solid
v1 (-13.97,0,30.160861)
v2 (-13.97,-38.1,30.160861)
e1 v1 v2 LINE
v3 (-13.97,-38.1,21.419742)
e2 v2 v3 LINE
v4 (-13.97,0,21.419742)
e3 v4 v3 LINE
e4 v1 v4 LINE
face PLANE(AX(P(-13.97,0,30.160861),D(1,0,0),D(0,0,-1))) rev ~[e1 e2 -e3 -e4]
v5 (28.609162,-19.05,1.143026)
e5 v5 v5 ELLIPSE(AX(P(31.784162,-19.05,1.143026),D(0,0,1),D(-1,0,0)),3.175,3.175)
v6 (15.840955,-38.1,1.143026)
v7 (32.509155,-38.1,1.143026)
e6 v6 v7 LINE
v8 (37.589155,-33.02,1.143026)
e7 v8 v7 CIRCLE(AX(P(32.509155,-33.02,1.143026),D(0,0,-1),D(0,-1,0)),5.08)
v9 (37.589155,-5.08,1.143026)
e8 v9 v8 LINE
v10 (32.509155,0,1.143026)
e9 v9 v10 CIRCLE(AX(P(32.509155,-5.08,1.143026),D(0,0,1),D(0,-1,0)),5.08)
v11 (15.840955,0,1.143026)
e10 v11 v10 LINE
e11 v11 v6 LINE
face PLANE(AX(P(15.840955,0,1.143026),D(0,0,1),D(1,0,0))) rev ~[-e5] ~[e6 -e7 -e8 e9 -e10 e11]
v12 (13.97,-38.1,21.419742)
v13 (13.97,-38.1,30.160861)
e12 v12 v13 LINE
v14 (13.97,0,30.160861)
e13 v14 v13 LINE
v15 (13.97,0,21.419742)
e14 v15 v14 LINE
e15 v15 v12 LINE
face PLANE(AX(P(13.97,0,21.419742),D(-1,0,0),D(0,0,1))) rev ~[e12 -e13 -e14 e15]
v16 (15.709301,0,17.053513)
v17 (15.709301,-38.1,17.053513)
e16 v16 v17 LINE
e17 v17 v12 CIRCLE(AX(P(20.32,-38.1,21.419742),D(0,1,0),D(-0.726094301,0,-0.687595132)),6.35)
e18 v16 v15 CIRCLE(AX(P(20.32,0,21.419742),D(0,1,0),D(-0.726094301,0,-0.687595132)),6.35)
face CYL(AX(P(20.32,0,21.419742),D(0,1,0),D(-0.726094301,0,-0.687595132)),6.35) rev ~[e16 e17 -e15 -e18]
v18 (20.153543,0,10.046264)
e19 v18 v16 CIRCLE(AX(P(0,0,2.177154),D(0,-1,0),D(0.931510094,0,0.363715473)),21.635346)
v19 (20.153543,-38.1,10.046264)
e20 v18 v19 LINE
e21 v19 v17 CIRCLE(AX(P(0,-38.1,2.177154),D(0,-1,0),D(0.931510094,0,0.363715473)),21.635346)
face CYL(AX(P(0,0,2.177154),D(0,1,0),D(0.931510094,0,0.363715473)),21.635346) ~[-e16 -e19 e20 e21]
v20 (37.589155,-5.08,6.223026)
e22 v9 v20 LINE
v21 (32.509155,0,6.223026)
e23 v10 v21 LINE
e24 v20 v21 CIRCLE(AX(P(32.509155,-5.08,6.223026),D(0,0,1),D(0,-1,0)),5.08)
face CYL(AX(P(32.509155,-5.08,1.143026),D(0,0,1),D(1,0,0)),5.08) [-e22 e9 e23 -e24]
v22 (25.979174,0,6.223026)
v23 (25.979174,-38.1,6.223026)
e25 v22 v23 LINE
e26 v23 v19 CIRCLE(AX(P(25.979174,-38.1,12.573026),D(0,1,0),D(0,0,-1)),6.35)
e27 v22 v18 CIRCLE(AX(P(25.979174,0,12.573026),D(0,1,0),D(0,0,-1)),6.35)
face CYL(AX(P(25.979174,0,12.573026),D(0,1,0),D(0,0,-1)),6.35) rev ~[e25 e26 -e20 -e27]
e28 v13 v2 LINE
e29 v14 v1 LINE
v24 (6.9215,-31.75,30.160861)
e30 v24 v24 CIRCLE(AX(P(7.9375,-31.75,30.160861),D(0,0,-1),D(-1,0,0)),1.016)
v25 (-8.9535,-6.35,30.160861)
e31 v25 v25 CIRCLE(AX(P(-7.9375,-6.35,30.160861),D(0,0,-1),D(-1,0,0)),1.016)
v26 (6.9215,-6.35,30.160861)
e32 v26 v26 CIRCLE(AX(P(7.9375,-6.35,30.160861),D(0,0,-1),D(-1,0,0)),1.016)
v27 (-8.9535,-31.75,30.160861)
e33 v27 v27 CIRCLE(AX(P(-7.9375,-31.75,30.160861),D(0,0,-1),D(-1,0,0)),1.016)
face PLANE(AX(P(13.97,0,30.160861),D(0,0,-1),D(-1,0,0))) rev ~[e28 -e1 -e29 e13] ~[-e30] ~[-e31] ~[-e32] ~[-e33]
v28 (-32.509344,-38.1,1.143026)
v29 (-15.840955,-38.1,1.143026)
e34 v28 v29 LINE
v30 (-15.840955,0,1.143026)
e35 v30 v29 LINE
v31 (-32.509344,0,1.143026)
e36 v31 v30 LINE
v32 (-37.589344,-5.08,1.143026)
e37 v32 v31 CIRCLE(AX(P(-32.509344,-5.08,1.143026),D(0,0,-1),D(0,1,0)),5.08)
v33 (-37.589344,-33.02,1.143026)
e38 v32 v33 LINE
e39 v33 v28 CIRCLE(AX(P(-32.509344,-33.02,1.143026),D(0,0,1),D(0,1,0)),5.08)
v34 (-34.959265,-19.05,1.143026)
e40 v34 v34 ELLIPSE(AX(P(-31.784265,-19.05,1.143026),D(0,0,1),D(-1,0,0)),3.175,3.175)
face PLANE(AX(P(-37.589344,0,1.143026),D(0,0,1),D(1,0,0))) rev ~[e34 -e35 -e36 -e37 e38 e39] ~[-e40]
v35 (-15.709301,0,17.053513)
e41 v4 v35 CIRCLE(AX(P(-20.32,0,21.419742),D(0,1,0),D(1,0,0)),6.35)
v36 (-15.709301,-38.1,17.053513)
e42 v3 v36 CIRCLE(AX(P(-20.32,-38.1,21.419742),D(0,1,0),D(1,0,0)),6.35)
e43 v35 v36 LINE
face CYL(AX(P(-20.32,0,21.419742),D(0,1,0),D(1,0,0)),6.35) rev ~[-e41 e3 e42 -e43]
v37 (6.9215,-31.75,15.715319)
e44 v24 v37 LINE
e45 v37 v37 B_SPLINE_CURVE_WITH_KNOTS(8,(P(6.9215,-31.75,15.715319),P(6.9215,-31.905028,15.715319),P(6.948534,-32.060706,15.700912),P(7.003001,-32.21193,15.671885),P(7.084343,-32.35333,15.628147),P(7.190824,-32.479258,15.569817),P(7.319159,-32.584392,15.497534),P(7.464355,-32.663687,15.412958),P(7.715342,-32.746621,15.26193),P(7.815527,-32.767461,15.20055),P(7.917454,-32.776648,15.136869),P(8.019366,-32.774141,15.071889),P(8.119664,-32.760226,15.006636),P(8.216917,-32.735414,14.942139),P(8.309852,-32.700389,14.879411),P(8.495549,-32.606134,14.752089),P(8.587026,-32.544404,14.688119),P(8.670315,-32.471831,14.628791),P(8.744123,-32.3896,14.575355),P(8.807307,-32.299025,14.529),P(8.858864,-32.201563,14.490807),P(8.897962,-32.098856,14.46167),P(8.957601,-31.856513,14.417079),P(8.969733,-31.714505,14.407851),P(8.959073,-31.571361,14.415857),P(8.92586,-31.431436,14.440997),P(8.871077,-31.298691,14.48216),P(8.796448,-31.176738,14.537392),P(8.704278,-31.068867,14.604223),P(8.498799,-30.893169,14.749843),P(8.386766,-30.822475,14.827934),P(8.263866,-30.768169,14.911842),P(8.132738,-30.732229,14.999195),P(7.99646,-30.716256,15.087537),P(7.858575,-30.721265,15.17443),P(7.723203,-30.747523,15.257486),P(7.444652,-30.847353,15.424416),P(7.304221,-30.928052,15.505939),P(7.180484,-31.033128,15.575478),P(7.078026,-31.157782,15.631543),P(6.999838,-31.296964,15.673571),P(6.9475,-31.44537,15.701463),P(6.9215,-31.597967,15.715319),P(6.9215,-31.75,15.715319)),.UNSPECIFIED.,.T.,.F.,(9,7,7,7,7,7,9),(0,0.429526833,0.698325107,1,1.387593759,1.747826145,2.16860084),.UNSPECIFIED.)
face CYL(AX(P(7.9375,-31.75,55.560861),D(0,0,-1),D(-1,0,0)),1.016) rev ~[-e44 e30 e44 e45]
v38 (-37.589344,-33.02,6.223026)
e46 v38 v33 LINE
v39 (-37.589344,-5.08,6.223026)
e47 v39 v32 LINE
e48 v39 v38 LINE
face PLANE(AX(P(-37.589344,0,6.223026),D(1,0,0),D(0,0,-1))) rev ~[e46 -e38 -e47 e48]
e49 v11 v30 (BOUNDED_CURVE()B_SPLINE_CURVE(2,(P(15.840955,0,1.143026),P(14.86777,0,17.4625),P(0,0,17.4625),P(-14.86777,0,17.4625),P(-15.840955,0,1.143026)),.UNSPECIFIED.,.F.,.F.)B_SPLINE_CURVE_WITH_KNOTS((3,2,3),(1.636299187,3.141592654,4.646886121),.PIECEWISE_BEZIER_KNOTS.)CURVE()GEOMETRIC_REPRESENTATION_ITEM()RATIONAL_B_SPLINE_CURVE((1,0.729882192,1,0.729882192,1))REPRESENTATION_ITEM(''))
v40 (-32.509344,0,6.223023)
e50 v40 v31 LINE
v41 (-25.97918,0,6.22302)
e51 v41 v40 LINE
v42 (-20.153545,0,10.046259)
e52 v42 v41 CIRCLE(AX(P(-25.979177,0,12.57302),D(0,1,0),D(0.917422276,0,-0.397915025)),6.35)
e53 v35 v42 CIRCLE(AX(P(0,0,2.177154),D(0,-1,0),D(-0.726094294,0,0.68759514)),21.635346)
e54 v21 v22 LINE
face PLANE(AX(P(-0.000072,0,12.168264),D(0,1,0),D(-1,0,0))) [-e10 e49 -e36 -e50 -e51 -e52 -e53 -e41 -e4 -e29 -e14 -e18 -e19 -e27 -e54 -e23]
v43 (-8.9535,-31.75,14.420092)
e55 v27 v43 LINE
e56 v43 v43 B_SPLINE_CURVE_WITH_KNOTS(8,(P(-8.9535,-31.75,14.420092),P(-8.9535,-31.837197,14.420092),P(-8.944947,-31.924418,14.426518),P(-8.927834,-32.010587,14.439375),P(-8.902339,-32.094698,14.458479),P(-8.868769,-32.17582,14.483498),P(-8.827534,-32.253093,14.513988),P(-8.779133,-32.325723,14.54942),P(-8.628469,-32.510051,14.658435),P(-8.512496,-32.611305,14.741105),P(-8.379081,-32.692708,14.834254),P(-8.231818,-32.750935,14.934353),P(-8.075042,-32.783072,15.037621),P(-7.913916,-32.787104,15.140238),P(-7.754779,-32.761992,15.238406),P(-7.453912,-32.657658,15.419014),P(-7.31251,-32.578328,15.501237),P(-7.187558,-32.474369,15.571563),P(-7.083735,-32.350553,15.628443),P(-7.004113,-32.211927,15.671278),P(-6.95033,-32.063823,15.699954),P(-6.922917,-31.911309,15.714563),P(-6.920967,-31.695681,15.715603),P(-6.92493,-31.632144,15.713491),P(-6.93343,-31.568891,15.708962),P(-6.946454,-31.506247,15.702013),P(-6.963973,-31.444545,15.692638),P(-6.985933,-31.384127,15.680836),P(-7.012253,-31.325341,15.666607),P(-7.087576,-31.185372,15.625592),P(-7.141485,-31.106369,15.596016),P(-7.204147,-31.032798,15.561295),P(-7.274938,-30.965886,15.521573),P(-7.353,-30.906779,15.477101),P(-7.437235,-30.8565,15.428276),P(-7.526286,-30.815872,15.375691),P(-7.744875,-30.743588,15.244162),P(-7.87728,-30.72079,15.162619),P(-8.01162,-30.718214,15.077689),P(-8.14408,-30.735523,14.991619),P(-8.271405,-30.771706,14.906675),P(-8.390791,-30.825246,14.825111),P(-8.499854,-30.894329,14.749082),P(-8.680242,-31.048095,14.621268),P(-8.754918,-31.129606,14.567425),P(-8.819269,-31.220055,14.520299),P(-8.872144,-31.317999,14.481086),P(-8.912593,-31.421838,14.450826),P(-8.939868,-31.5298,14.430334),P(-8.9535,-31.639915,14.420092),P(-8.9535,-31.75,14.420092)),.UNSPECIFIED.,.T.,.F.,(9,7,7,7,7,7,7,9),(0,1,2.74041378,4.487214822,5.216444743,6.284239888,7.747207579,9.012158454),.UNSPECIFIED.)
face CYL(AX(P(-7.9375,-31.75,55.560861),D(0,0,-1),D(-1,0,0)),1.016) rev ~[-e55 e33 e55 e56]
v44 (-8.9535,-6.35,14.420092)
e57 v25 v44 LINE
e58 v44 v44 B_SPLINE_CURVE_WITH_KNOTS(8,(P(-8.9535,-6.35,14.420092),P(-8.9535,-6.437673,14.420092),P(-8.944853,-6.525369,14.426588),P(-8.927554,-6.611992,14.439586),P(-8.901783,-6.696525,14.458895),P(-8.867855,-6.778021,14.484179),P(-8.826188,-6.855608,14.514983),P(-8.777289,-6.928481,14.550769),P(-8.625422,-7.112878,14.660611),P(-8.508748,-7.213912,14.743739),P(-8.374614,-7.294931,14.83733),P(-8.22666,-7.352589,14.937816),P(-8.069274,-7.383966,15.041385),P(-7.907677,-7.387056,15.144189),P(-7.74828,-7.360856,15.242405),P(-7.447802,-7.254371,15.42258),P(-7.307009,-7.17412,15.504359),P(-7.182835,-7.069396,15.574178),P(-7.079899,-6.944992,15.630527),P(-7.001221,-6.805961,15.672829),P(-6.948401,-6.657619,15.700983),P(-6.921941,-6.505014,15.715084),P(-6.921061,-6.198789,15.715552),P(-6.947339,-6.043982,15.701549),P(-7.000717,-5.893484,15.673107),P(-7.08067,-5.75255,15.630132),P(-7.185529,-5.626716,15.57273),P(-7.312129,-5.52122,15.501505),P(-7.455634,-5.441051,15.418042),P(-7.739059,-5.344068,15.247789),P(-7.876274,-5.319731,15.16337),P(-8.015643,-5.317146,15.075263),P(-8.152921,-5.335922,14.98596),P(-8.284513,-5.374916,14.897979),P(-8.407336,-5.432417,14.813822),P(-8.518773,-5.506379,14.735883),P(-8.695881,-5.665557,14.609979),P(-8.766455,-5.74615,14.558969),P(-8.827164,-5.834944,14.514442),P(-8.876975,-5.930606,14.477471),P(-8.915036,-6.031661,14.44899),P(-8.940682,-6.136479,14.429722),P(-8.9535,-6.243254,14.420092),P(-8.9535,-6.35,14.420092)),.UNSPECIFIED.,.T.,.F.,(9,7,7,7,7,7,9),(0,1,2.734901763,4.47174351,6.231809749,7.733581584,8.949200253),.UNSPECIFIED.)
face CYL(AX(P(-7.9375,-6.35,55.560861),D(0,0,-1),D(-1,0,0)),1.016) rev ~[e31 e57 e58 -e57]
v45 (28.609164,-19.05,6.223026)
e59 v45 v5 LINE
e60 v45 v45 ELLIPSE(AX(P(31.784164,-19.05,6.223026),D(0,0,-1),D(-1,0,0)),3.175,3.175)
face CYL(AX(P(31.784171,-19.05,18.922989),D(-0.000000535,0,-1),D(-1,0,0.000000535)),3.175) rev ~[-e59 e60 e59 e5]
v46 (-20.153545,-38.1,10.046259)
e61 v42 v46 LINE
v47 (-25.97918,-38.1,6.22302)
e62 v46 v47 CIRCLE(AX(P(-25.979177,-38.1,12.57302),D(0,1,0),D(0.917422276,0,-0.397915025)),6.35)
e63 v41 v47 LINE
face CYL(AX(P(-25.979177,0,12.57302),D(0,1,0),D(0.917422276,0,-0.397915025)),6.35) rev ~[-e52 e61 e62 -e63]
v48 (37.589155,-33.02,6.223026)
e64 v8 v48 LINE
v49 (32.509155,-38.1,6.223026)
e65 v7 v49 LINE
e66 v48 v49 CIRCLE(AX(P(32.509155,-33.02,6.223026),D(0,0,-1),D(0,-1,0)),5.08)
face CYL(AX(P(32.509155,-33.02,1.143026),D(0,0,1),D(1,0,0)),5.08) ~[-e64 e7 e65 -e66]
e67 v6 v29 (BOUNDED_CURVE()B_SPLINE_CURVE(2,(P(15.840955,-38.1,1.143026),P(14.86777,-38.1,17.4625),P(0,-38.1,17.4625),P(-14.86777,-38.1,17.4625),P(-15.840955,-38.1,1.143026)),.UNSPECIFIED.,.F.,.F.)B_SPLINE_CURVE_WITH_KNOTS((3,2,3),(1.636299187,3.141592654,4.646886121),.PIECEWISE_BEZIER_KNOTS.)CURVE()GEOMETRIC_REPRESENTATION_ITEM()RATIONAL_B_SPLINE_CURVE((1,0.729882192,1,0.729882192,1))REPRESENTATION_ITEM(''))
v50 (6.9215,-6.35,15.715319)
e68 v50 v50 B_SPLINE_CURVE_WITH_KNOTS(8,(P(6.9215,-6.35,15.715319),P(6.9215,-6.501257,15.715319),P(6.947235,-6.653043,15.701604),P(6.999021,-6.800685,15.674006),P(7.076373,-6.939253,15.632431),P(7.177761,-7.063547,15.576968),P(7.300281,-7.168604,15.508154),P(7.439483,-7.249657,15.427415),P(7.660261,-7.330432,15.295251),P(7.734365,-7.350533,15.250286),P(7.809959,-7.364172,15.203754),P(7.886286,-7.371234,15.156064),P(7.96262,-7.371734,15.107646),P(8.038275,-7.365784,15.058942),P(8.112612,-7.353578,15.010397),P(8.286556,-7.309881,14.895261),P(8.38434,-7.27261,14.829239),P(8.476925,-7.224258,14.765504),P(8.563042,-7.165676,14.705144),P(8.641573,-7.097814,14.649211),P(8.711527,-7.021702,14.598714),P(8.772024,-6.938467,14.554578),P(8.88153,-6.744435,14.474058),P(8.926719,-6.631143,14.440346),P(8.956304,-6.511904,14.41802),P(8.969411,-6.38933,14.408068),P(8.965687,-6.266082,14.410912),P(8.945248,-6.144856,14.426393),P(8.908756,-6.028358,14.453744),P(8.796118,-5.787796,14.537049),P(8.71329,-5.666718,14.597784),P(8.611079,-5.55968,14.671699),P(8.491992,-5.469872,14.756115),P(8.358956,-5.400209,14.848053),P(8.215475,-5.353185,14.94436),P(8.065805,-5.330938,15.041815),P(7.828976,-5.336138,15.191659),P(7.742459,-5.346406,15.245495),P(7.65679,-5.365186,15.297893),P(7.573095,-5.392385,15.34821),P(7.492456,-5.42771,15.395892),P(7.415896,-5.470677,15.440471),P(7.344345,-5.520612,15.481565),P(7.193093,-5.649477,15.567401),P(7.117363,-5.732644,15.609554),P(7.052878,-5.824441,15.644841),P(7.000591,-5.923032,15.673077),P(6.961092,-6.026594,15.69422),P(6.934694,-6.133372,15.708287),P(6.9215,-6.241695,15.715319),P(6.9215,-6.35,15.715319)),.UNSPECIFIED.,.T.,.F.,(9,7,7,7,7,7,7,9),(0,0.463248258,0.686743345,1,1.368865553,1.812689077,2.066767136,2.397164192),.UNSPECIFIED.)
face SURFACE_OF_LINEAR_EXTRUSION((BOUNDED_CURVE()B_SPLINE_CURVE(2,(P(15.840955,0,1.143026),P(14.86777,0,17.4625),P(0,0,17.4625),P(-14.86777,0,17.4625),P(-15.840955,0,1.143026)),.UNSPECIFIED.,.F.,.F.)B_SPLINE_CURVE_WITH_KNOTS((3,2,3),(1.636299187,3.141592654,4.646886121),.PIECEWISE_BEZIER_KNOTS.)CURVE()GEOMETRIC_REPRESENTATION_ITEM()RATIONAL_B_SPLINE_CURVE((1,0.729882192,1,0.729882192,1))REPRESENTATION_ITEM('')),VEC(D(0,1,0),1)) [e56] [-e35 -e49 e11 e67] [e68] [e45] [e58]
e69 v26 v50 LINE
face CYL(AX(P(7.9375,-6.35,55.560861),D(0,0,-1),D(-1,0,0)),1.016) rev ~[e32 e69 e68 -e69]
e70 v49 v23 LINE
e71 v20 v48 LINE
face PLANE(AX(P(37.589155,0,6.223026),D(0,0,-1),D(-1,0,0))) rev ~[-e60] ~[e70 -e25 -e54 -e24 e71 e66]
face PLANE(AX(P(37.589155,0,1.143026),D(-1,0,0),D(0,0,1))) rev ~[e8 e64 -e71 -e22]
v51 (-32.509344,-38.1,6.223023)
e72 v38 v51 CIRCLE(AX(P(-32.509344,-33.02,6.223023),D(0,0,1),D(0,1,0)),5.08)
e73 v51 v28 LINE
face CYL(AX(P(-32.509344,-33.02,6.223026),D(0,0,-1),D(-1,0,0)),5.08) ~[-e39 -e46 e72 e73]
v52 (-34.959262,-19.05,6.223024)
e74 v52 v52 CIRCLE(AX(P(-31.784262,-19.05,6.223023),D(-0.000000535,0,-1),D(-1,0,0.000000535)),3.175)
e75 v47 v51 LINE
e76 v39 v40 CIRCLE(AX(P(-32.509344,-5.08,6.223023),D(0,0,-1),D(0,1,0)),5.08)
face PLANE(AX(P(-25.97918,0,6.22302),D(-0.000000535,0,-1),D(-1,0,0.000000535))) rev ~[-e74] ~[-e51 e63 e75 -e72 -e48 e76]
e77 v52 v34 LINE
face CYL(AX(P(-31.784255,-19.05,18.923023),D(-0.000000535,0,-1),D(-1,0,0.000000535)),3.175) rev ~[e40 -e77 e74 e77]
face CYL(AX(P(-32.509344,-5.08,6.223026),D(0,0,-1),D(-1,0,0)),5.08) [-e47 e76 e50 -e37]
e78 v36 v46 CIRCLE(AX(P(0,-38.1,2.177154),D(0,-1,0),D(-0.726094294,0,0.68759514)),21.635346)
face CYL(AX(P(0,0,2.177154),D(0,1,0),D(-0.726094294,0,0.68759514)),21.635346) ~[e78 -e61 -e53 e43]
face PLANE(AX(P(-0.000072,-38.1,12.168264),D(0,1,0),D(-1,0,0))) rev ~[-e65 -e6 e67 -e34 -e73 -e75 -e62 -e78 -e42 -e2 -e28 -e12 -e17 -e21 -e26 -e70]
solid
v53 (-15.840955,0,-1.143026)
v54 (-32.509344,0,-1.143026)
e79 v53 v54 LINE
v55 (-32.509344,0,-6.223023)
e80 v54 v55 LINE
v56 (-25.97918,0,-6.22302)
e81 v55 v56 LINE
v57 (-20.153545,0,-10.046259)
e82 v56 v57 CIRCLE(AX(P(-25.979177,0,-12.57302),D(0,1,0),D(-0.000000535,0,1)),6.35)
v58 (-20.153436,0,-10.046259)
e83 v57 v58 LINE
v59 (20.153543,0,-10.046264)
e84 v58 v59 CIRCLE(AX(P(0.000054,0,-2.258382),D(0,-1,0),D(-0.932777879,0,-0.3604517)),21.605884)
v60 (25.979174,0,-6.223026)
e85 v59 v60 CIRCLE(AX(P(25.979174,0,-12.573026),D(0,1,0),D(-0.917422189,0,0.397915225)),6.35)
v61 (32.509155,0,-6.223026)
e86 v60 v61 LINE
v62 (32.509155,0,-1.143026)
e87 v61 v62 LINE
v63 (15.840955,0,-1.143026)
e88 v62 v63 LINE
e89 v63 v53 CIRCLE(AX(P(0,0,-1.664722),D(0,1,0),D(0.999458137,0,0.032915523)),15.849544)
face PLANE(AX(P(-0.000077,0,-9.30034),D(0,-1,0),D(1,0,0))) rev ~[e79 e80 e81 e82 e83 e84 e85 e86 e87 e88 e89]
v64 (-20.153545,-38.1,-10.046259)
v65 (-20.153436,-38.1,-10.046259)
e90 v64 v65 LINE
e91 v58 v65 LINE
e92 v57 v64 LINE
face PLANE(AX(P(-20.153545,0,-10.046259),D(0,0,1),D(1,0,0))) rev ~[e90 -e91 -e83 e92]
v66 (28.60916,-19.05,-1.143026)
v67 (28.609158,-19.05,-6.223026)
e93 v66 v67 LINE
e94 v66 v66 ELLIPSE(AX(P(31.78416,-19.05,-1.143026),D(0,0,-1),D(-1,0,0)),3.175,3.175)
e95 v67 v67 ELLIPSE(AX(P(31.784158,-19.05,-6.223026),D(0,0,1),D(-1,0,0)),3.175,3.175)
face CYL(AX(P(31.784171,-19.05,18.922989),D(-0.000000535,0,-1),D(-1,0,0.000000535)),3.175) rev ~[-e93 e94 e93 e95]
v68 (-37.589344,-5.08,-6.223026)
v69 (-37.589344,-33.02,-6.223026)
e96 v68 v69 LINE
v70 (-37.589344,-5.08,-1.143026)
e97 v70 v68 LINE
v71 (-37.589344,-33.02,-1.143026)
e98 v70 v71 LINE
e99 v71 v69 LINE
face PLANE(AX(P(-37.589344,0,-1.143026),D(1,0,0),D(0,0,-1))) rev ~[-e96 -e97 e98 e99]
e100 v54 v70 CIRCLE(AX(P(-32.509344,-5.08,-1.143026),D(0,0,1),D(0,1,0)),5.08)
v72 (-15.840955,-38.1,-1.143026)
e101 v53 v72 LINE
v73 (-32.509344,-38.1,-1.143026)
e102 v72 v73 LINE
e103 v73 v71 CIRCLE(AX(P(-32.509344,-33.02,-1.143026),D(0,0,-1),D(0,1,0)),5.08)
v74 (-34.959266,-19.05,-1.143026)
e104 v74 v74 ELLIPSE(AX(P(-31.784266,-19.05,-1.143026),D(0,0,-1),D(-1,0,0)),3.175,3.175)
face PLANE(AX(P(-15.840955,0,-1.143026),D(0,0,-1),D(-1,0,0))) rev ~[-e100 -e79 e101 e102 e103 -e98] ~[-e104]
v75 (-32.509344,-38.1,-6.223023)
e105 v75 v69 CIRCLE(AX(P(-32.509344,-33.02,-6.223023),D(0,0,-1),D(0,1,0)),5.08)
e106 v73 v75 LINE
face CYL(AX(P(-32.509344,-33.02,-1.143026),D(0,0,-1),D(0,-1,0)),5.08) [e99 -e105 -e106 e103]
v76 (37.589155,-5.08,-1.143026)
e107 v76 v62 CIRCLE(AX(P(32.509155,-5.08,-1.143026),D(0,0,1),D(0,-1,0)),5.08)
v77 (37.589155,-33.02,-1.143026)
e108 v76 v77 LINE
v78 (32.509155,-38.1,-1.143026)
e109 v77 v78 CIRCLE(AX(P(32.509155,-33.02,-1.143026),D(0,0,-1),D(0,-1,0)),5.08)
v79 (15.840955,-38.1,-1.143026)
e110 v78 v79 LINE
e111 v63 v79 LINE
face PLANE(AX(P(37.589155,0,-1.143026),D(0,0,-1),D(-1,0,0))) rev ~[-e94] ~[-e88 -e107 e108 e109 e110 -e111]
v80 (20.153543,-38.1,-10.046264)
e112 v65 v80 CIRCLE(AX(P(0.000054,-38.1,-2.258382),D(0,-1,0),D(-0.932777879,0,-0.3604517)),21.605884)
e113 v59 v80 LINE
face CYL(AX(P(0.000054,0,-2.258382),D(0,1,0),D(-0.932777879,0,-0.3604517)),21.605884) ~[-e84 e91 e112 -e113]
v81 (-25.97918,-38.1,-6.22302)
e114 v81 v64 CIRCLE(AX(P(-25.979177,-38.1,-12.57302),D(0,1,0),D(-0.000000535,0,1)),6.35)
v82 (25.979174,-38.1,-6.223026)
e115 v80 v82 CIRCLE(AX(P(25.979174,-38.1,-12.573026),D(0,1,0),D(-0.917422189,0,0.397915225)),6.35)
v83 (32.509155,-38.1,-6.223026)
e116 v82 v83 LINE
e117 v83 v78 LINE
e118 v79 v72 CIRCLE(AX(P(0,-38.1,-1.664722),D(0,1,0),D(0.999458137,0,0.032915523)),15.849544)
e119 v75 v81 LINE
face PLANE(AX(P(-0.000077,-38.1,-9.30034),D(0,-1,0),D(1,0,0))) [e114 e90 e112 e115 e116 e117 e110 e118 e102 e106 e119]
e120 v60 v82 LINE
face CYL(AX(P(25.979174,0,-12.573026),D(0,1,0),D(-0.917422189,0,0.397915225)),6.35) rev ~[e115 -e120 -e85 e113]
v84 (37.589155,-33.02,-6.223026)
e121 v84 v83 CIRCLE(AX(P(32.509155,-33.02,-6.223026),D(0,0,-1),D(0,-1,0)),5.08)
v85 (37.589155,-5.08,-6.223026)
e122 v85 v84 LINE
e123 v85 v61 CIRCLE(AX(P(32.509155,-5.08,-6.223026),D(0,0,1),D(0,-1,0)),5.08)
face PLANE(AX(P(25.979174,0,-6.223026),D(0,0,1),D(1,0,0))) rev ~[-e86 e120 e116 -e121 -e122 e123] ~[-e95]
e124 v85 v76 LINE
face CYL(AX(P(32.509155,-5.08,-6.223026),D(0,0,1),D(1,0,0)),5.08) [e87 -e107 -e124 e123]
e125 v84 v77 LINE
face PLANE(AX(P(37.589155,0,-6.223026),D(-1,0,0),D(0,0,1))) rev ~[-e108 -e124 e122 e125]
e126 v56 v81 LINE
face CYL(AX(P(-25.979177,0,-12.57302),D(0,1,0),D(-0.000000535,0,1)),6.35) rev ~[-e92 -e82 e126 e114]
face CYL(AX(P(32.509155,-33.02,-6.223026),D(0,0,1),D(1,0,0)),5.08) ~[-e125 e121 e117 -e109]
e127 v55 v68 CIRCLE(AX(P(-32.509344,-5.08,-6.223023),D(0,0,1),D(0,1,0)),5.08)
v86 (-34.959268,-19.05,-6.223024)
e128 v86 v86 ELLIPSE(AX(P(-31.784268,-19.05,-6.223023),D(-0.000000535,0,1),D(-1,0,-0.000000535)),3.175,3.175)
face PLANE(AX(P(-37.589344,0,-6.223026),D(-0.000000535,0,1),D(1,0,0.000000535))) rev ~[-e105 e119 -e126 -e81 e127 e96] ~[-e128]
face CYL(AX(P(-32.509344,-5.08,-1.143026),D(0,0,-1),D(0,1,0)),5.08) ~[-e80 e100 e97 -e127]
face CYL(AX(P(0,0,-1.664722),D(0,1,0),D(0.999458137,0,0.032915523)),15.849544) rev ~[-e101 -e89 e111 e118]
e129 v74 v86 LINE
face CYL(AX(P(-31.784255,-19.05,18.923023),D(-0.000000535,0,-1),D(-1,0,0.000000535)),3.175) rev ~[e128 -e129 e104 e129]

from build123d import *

# Parameters (mm, degrees)
F1_DEPTH   = 38.1
F3_D       = 6.35
F3_DEPTH   = 12.7
F3_TIP     = 1.9077324654
F3_2_D     = 6.35
F3_2_DEPTH = 12.7
F3_2_TIP   = 1.9077324654
F5_D       = 2.032
F5_DEPTH   = 25.4
F5_TIP     = 0.6104743889
F6_R       = 5.08
F6_2_R     = 5.08


with BuildPart() as f1:
    # F0 (on Front) → F1 (new body)
    with BuildSketch(Plane.XZ):
        with BuildLine():
            add(Edge.make_bspline(
                [(15.8409553423, 1.1430258969), (14.8677701559, 17.4625), (0, 17.4625), (-14.8677701559, 17.4625), (-15.8409553423, 1.1430258969)],
                knots=[1.6362991866, 1.6362991866, 1.6362991866, 3.1415926536, 3.1415926536, 4.6468861206, 4.6468861206, 4.6468861206], degree=2, weights=[1, 0.729882192, 1, 0.729882192, 1]))
            Line((15.8409553423, 1.1430258969), (37.5891549855, 1.1430258969))
            Line((37.5891549855, 1.1430258969), (37.5891549855, 6.2230258973))
            Line((37.5891549855, 6.2230258973), (25.9791738172, 6.2230258973))
            ThreePointArc((25.9791738172, 6.2230258973), (22.4950983779, 7.2641919074), (20.1535429146, 10.0462642176))
            ThreePointArc((20.1535429146, 10.0462642176), (18.2705029961, 13.7649454006), (15.7093012107, 17.0535126403))
            ThreePointArc((15.7093012107, 17.0535126403), (14.4208290036, 19.0697882678), (13.9700000244, 21.4197417283))
            Line((13.9700000244, 21.4197417283), (13.9700000244, 30.1608613677))
            Line((13.9700000244, 30.1608613677), (-13.9700000243, 30.1608613677))
            Line((-13.9700000243, 30.1608613677), (-13.9700000243, 21.419741954))
            ThreePointArc((-13.9700000243, 21.419741954), (-14.4208290165, 19.0697884608), (-15.7093012591, 17.0535128148))
            ThreePointArc((-15.7093012591, 17.0535128148), (-18.2705045645, 13.7649432645), (-20.1535450557, 10.0462592811))
            ThreePointArc((-20.1535450557, 10.0462592811), (-22.4951019105, 7.2641851476), (-25.9791799057, 6.2230196887))
            Line((-25.9791799057, 6.2230196887), (-37.5893437065, 6.2230258969))
            Line((-37.5893437065, 6.2230258969), (-37.5893437065, 1.1430258969))
            Line((-37.5893437065, 1.1430258969), (-15.8409553423, 1.1430258969))
        make_face()
    extrude(amount=F1_DEPTH)

    # F3
    with Locations(Plane(origin=(3.3276e-06, 0, 6.2230057969), x_dir=(1, 0, -5.347e-07), z_dir=(5.347e-07, 0, 1))):
        with Locations((-31.7842651337, -19.05), (31.7841610737, -19.05)):
            Hole(F3_D / 2, depth=F3_DEPTH)
            with Locations((0, 0, -(F3_DEPTH + F3_TIP / 2))):  # 118° drill point
                Cone(0, F3_D / 2, F3_TIP, mode=Mode.SUBTRACT)

    # F5
    with Locations(Plane.XY.offset(30.1608613677)):
        with Locations((-7.9375, -6.35), (7.9375, -6.35), (7.9375, -31.75), (-7.9375, -31.75)):
            Hole(F5_D / 2, depth=F5_DEPTH)
            with Locations((0, 0, -(F5_DEPTH + F5_TIP / 2))):  # 118° drill point
                Cone(0, F5_D / 2, F5_TIP, mode=Mode.SUBTRACT)

    # F6#2
    f6_2_edges = [f1.edges().sort_by_distance(p)[0] for p in [
        (37.589155, 0, 3.683026),
        (-37.589344, 0, 3.683026),
        (-37.589344, -38.1, 3.683026),
        (37.589155, -38.1, 3.683026),
    ]]
    fillet(f6_2_edges, radius=F6_2_R)


with BuildPart() as f1b:
    # F0 (on Front) → F1, piece 2 (new body)
    with BuildSketch(Plane.XZ):
        with BuildLine():
            Line((37.5891549855, -6.2230258973), (37.5891549855, -1.1430258969))
            Line((37.5891549855, -1.1430258969), (15.8409553423, -1.1430258969))
            ThreePointArc((15.8409553423, -1.1430258969), (0, -17.5142655313), (-15.8409553423, -1.1430258969))
            Line((-15.8409553423, -1.1430258969), (-37.5893437065, -1.1430258969))
            Line((-37.5893437065, -1.1430258969), (-37.5893437065, -6.2230258969))
            Line((-37.5893437065, -6.2230258969), (-25.9791799057, -6.2230196887))
            ThreePointArc((-25.9791799057, -6.2230196885), (-22.4951019106, -7.2641851474), (-20.1535450558, -10.0462592809))
            Line((-20.1535450558, -10.0462592809), (-20.153436098, -10.0462592809))
            ThreePointArc((-20.153436098, -10.0462592809), (5.17161e-05, -23.8642655314), (20.1535429148, -10.0462642172))
            ThreePointArc((20.1535429148, -10.0462642172), (22.4950983781, -7.264191907), (25.9791738174, -6.223025897))
            Line((25.9791738172, -6.2230258973), (37.5891549855, -6.2230258973))
        make_face()
    extrude(amount=F1_DEPTH)

    # F3#2
    with Locations(Plane(origin=(3.3276e-06, 0, 6.2230057969), x_dir=(1, 0, -5.347e-07), z_dir=(5.347e-07, 0, 1))):
        with Locations((-31.7842651337, -19.05), (31.7841610737, -19.05)):
            Hole(F3_2_D / 2, depth=F3_2_DEPTH)
            with Locations((0, 0, -(F3_2_DEPTH + F3_2_TIP / 2))):  # 118° drill point
                Cone(0, F3_2_D / 2, F3_2_TIP, mode=Mode.SUBTRACT)

    # F6
    f6_edges = [f1b.edges().sort_by_distance(p)[0] for p in [
        (-37.589344, 0, -3.683026),
        (37.589155, 0, -3.683026),
        (-37.589344, -38.1, -3.683026),
        (37.589155, -38.1, -3.683026),
    ]]
    fillet(f6_edges, radius=F6_R)


solid = Compound([f1.part, f1b.part])
